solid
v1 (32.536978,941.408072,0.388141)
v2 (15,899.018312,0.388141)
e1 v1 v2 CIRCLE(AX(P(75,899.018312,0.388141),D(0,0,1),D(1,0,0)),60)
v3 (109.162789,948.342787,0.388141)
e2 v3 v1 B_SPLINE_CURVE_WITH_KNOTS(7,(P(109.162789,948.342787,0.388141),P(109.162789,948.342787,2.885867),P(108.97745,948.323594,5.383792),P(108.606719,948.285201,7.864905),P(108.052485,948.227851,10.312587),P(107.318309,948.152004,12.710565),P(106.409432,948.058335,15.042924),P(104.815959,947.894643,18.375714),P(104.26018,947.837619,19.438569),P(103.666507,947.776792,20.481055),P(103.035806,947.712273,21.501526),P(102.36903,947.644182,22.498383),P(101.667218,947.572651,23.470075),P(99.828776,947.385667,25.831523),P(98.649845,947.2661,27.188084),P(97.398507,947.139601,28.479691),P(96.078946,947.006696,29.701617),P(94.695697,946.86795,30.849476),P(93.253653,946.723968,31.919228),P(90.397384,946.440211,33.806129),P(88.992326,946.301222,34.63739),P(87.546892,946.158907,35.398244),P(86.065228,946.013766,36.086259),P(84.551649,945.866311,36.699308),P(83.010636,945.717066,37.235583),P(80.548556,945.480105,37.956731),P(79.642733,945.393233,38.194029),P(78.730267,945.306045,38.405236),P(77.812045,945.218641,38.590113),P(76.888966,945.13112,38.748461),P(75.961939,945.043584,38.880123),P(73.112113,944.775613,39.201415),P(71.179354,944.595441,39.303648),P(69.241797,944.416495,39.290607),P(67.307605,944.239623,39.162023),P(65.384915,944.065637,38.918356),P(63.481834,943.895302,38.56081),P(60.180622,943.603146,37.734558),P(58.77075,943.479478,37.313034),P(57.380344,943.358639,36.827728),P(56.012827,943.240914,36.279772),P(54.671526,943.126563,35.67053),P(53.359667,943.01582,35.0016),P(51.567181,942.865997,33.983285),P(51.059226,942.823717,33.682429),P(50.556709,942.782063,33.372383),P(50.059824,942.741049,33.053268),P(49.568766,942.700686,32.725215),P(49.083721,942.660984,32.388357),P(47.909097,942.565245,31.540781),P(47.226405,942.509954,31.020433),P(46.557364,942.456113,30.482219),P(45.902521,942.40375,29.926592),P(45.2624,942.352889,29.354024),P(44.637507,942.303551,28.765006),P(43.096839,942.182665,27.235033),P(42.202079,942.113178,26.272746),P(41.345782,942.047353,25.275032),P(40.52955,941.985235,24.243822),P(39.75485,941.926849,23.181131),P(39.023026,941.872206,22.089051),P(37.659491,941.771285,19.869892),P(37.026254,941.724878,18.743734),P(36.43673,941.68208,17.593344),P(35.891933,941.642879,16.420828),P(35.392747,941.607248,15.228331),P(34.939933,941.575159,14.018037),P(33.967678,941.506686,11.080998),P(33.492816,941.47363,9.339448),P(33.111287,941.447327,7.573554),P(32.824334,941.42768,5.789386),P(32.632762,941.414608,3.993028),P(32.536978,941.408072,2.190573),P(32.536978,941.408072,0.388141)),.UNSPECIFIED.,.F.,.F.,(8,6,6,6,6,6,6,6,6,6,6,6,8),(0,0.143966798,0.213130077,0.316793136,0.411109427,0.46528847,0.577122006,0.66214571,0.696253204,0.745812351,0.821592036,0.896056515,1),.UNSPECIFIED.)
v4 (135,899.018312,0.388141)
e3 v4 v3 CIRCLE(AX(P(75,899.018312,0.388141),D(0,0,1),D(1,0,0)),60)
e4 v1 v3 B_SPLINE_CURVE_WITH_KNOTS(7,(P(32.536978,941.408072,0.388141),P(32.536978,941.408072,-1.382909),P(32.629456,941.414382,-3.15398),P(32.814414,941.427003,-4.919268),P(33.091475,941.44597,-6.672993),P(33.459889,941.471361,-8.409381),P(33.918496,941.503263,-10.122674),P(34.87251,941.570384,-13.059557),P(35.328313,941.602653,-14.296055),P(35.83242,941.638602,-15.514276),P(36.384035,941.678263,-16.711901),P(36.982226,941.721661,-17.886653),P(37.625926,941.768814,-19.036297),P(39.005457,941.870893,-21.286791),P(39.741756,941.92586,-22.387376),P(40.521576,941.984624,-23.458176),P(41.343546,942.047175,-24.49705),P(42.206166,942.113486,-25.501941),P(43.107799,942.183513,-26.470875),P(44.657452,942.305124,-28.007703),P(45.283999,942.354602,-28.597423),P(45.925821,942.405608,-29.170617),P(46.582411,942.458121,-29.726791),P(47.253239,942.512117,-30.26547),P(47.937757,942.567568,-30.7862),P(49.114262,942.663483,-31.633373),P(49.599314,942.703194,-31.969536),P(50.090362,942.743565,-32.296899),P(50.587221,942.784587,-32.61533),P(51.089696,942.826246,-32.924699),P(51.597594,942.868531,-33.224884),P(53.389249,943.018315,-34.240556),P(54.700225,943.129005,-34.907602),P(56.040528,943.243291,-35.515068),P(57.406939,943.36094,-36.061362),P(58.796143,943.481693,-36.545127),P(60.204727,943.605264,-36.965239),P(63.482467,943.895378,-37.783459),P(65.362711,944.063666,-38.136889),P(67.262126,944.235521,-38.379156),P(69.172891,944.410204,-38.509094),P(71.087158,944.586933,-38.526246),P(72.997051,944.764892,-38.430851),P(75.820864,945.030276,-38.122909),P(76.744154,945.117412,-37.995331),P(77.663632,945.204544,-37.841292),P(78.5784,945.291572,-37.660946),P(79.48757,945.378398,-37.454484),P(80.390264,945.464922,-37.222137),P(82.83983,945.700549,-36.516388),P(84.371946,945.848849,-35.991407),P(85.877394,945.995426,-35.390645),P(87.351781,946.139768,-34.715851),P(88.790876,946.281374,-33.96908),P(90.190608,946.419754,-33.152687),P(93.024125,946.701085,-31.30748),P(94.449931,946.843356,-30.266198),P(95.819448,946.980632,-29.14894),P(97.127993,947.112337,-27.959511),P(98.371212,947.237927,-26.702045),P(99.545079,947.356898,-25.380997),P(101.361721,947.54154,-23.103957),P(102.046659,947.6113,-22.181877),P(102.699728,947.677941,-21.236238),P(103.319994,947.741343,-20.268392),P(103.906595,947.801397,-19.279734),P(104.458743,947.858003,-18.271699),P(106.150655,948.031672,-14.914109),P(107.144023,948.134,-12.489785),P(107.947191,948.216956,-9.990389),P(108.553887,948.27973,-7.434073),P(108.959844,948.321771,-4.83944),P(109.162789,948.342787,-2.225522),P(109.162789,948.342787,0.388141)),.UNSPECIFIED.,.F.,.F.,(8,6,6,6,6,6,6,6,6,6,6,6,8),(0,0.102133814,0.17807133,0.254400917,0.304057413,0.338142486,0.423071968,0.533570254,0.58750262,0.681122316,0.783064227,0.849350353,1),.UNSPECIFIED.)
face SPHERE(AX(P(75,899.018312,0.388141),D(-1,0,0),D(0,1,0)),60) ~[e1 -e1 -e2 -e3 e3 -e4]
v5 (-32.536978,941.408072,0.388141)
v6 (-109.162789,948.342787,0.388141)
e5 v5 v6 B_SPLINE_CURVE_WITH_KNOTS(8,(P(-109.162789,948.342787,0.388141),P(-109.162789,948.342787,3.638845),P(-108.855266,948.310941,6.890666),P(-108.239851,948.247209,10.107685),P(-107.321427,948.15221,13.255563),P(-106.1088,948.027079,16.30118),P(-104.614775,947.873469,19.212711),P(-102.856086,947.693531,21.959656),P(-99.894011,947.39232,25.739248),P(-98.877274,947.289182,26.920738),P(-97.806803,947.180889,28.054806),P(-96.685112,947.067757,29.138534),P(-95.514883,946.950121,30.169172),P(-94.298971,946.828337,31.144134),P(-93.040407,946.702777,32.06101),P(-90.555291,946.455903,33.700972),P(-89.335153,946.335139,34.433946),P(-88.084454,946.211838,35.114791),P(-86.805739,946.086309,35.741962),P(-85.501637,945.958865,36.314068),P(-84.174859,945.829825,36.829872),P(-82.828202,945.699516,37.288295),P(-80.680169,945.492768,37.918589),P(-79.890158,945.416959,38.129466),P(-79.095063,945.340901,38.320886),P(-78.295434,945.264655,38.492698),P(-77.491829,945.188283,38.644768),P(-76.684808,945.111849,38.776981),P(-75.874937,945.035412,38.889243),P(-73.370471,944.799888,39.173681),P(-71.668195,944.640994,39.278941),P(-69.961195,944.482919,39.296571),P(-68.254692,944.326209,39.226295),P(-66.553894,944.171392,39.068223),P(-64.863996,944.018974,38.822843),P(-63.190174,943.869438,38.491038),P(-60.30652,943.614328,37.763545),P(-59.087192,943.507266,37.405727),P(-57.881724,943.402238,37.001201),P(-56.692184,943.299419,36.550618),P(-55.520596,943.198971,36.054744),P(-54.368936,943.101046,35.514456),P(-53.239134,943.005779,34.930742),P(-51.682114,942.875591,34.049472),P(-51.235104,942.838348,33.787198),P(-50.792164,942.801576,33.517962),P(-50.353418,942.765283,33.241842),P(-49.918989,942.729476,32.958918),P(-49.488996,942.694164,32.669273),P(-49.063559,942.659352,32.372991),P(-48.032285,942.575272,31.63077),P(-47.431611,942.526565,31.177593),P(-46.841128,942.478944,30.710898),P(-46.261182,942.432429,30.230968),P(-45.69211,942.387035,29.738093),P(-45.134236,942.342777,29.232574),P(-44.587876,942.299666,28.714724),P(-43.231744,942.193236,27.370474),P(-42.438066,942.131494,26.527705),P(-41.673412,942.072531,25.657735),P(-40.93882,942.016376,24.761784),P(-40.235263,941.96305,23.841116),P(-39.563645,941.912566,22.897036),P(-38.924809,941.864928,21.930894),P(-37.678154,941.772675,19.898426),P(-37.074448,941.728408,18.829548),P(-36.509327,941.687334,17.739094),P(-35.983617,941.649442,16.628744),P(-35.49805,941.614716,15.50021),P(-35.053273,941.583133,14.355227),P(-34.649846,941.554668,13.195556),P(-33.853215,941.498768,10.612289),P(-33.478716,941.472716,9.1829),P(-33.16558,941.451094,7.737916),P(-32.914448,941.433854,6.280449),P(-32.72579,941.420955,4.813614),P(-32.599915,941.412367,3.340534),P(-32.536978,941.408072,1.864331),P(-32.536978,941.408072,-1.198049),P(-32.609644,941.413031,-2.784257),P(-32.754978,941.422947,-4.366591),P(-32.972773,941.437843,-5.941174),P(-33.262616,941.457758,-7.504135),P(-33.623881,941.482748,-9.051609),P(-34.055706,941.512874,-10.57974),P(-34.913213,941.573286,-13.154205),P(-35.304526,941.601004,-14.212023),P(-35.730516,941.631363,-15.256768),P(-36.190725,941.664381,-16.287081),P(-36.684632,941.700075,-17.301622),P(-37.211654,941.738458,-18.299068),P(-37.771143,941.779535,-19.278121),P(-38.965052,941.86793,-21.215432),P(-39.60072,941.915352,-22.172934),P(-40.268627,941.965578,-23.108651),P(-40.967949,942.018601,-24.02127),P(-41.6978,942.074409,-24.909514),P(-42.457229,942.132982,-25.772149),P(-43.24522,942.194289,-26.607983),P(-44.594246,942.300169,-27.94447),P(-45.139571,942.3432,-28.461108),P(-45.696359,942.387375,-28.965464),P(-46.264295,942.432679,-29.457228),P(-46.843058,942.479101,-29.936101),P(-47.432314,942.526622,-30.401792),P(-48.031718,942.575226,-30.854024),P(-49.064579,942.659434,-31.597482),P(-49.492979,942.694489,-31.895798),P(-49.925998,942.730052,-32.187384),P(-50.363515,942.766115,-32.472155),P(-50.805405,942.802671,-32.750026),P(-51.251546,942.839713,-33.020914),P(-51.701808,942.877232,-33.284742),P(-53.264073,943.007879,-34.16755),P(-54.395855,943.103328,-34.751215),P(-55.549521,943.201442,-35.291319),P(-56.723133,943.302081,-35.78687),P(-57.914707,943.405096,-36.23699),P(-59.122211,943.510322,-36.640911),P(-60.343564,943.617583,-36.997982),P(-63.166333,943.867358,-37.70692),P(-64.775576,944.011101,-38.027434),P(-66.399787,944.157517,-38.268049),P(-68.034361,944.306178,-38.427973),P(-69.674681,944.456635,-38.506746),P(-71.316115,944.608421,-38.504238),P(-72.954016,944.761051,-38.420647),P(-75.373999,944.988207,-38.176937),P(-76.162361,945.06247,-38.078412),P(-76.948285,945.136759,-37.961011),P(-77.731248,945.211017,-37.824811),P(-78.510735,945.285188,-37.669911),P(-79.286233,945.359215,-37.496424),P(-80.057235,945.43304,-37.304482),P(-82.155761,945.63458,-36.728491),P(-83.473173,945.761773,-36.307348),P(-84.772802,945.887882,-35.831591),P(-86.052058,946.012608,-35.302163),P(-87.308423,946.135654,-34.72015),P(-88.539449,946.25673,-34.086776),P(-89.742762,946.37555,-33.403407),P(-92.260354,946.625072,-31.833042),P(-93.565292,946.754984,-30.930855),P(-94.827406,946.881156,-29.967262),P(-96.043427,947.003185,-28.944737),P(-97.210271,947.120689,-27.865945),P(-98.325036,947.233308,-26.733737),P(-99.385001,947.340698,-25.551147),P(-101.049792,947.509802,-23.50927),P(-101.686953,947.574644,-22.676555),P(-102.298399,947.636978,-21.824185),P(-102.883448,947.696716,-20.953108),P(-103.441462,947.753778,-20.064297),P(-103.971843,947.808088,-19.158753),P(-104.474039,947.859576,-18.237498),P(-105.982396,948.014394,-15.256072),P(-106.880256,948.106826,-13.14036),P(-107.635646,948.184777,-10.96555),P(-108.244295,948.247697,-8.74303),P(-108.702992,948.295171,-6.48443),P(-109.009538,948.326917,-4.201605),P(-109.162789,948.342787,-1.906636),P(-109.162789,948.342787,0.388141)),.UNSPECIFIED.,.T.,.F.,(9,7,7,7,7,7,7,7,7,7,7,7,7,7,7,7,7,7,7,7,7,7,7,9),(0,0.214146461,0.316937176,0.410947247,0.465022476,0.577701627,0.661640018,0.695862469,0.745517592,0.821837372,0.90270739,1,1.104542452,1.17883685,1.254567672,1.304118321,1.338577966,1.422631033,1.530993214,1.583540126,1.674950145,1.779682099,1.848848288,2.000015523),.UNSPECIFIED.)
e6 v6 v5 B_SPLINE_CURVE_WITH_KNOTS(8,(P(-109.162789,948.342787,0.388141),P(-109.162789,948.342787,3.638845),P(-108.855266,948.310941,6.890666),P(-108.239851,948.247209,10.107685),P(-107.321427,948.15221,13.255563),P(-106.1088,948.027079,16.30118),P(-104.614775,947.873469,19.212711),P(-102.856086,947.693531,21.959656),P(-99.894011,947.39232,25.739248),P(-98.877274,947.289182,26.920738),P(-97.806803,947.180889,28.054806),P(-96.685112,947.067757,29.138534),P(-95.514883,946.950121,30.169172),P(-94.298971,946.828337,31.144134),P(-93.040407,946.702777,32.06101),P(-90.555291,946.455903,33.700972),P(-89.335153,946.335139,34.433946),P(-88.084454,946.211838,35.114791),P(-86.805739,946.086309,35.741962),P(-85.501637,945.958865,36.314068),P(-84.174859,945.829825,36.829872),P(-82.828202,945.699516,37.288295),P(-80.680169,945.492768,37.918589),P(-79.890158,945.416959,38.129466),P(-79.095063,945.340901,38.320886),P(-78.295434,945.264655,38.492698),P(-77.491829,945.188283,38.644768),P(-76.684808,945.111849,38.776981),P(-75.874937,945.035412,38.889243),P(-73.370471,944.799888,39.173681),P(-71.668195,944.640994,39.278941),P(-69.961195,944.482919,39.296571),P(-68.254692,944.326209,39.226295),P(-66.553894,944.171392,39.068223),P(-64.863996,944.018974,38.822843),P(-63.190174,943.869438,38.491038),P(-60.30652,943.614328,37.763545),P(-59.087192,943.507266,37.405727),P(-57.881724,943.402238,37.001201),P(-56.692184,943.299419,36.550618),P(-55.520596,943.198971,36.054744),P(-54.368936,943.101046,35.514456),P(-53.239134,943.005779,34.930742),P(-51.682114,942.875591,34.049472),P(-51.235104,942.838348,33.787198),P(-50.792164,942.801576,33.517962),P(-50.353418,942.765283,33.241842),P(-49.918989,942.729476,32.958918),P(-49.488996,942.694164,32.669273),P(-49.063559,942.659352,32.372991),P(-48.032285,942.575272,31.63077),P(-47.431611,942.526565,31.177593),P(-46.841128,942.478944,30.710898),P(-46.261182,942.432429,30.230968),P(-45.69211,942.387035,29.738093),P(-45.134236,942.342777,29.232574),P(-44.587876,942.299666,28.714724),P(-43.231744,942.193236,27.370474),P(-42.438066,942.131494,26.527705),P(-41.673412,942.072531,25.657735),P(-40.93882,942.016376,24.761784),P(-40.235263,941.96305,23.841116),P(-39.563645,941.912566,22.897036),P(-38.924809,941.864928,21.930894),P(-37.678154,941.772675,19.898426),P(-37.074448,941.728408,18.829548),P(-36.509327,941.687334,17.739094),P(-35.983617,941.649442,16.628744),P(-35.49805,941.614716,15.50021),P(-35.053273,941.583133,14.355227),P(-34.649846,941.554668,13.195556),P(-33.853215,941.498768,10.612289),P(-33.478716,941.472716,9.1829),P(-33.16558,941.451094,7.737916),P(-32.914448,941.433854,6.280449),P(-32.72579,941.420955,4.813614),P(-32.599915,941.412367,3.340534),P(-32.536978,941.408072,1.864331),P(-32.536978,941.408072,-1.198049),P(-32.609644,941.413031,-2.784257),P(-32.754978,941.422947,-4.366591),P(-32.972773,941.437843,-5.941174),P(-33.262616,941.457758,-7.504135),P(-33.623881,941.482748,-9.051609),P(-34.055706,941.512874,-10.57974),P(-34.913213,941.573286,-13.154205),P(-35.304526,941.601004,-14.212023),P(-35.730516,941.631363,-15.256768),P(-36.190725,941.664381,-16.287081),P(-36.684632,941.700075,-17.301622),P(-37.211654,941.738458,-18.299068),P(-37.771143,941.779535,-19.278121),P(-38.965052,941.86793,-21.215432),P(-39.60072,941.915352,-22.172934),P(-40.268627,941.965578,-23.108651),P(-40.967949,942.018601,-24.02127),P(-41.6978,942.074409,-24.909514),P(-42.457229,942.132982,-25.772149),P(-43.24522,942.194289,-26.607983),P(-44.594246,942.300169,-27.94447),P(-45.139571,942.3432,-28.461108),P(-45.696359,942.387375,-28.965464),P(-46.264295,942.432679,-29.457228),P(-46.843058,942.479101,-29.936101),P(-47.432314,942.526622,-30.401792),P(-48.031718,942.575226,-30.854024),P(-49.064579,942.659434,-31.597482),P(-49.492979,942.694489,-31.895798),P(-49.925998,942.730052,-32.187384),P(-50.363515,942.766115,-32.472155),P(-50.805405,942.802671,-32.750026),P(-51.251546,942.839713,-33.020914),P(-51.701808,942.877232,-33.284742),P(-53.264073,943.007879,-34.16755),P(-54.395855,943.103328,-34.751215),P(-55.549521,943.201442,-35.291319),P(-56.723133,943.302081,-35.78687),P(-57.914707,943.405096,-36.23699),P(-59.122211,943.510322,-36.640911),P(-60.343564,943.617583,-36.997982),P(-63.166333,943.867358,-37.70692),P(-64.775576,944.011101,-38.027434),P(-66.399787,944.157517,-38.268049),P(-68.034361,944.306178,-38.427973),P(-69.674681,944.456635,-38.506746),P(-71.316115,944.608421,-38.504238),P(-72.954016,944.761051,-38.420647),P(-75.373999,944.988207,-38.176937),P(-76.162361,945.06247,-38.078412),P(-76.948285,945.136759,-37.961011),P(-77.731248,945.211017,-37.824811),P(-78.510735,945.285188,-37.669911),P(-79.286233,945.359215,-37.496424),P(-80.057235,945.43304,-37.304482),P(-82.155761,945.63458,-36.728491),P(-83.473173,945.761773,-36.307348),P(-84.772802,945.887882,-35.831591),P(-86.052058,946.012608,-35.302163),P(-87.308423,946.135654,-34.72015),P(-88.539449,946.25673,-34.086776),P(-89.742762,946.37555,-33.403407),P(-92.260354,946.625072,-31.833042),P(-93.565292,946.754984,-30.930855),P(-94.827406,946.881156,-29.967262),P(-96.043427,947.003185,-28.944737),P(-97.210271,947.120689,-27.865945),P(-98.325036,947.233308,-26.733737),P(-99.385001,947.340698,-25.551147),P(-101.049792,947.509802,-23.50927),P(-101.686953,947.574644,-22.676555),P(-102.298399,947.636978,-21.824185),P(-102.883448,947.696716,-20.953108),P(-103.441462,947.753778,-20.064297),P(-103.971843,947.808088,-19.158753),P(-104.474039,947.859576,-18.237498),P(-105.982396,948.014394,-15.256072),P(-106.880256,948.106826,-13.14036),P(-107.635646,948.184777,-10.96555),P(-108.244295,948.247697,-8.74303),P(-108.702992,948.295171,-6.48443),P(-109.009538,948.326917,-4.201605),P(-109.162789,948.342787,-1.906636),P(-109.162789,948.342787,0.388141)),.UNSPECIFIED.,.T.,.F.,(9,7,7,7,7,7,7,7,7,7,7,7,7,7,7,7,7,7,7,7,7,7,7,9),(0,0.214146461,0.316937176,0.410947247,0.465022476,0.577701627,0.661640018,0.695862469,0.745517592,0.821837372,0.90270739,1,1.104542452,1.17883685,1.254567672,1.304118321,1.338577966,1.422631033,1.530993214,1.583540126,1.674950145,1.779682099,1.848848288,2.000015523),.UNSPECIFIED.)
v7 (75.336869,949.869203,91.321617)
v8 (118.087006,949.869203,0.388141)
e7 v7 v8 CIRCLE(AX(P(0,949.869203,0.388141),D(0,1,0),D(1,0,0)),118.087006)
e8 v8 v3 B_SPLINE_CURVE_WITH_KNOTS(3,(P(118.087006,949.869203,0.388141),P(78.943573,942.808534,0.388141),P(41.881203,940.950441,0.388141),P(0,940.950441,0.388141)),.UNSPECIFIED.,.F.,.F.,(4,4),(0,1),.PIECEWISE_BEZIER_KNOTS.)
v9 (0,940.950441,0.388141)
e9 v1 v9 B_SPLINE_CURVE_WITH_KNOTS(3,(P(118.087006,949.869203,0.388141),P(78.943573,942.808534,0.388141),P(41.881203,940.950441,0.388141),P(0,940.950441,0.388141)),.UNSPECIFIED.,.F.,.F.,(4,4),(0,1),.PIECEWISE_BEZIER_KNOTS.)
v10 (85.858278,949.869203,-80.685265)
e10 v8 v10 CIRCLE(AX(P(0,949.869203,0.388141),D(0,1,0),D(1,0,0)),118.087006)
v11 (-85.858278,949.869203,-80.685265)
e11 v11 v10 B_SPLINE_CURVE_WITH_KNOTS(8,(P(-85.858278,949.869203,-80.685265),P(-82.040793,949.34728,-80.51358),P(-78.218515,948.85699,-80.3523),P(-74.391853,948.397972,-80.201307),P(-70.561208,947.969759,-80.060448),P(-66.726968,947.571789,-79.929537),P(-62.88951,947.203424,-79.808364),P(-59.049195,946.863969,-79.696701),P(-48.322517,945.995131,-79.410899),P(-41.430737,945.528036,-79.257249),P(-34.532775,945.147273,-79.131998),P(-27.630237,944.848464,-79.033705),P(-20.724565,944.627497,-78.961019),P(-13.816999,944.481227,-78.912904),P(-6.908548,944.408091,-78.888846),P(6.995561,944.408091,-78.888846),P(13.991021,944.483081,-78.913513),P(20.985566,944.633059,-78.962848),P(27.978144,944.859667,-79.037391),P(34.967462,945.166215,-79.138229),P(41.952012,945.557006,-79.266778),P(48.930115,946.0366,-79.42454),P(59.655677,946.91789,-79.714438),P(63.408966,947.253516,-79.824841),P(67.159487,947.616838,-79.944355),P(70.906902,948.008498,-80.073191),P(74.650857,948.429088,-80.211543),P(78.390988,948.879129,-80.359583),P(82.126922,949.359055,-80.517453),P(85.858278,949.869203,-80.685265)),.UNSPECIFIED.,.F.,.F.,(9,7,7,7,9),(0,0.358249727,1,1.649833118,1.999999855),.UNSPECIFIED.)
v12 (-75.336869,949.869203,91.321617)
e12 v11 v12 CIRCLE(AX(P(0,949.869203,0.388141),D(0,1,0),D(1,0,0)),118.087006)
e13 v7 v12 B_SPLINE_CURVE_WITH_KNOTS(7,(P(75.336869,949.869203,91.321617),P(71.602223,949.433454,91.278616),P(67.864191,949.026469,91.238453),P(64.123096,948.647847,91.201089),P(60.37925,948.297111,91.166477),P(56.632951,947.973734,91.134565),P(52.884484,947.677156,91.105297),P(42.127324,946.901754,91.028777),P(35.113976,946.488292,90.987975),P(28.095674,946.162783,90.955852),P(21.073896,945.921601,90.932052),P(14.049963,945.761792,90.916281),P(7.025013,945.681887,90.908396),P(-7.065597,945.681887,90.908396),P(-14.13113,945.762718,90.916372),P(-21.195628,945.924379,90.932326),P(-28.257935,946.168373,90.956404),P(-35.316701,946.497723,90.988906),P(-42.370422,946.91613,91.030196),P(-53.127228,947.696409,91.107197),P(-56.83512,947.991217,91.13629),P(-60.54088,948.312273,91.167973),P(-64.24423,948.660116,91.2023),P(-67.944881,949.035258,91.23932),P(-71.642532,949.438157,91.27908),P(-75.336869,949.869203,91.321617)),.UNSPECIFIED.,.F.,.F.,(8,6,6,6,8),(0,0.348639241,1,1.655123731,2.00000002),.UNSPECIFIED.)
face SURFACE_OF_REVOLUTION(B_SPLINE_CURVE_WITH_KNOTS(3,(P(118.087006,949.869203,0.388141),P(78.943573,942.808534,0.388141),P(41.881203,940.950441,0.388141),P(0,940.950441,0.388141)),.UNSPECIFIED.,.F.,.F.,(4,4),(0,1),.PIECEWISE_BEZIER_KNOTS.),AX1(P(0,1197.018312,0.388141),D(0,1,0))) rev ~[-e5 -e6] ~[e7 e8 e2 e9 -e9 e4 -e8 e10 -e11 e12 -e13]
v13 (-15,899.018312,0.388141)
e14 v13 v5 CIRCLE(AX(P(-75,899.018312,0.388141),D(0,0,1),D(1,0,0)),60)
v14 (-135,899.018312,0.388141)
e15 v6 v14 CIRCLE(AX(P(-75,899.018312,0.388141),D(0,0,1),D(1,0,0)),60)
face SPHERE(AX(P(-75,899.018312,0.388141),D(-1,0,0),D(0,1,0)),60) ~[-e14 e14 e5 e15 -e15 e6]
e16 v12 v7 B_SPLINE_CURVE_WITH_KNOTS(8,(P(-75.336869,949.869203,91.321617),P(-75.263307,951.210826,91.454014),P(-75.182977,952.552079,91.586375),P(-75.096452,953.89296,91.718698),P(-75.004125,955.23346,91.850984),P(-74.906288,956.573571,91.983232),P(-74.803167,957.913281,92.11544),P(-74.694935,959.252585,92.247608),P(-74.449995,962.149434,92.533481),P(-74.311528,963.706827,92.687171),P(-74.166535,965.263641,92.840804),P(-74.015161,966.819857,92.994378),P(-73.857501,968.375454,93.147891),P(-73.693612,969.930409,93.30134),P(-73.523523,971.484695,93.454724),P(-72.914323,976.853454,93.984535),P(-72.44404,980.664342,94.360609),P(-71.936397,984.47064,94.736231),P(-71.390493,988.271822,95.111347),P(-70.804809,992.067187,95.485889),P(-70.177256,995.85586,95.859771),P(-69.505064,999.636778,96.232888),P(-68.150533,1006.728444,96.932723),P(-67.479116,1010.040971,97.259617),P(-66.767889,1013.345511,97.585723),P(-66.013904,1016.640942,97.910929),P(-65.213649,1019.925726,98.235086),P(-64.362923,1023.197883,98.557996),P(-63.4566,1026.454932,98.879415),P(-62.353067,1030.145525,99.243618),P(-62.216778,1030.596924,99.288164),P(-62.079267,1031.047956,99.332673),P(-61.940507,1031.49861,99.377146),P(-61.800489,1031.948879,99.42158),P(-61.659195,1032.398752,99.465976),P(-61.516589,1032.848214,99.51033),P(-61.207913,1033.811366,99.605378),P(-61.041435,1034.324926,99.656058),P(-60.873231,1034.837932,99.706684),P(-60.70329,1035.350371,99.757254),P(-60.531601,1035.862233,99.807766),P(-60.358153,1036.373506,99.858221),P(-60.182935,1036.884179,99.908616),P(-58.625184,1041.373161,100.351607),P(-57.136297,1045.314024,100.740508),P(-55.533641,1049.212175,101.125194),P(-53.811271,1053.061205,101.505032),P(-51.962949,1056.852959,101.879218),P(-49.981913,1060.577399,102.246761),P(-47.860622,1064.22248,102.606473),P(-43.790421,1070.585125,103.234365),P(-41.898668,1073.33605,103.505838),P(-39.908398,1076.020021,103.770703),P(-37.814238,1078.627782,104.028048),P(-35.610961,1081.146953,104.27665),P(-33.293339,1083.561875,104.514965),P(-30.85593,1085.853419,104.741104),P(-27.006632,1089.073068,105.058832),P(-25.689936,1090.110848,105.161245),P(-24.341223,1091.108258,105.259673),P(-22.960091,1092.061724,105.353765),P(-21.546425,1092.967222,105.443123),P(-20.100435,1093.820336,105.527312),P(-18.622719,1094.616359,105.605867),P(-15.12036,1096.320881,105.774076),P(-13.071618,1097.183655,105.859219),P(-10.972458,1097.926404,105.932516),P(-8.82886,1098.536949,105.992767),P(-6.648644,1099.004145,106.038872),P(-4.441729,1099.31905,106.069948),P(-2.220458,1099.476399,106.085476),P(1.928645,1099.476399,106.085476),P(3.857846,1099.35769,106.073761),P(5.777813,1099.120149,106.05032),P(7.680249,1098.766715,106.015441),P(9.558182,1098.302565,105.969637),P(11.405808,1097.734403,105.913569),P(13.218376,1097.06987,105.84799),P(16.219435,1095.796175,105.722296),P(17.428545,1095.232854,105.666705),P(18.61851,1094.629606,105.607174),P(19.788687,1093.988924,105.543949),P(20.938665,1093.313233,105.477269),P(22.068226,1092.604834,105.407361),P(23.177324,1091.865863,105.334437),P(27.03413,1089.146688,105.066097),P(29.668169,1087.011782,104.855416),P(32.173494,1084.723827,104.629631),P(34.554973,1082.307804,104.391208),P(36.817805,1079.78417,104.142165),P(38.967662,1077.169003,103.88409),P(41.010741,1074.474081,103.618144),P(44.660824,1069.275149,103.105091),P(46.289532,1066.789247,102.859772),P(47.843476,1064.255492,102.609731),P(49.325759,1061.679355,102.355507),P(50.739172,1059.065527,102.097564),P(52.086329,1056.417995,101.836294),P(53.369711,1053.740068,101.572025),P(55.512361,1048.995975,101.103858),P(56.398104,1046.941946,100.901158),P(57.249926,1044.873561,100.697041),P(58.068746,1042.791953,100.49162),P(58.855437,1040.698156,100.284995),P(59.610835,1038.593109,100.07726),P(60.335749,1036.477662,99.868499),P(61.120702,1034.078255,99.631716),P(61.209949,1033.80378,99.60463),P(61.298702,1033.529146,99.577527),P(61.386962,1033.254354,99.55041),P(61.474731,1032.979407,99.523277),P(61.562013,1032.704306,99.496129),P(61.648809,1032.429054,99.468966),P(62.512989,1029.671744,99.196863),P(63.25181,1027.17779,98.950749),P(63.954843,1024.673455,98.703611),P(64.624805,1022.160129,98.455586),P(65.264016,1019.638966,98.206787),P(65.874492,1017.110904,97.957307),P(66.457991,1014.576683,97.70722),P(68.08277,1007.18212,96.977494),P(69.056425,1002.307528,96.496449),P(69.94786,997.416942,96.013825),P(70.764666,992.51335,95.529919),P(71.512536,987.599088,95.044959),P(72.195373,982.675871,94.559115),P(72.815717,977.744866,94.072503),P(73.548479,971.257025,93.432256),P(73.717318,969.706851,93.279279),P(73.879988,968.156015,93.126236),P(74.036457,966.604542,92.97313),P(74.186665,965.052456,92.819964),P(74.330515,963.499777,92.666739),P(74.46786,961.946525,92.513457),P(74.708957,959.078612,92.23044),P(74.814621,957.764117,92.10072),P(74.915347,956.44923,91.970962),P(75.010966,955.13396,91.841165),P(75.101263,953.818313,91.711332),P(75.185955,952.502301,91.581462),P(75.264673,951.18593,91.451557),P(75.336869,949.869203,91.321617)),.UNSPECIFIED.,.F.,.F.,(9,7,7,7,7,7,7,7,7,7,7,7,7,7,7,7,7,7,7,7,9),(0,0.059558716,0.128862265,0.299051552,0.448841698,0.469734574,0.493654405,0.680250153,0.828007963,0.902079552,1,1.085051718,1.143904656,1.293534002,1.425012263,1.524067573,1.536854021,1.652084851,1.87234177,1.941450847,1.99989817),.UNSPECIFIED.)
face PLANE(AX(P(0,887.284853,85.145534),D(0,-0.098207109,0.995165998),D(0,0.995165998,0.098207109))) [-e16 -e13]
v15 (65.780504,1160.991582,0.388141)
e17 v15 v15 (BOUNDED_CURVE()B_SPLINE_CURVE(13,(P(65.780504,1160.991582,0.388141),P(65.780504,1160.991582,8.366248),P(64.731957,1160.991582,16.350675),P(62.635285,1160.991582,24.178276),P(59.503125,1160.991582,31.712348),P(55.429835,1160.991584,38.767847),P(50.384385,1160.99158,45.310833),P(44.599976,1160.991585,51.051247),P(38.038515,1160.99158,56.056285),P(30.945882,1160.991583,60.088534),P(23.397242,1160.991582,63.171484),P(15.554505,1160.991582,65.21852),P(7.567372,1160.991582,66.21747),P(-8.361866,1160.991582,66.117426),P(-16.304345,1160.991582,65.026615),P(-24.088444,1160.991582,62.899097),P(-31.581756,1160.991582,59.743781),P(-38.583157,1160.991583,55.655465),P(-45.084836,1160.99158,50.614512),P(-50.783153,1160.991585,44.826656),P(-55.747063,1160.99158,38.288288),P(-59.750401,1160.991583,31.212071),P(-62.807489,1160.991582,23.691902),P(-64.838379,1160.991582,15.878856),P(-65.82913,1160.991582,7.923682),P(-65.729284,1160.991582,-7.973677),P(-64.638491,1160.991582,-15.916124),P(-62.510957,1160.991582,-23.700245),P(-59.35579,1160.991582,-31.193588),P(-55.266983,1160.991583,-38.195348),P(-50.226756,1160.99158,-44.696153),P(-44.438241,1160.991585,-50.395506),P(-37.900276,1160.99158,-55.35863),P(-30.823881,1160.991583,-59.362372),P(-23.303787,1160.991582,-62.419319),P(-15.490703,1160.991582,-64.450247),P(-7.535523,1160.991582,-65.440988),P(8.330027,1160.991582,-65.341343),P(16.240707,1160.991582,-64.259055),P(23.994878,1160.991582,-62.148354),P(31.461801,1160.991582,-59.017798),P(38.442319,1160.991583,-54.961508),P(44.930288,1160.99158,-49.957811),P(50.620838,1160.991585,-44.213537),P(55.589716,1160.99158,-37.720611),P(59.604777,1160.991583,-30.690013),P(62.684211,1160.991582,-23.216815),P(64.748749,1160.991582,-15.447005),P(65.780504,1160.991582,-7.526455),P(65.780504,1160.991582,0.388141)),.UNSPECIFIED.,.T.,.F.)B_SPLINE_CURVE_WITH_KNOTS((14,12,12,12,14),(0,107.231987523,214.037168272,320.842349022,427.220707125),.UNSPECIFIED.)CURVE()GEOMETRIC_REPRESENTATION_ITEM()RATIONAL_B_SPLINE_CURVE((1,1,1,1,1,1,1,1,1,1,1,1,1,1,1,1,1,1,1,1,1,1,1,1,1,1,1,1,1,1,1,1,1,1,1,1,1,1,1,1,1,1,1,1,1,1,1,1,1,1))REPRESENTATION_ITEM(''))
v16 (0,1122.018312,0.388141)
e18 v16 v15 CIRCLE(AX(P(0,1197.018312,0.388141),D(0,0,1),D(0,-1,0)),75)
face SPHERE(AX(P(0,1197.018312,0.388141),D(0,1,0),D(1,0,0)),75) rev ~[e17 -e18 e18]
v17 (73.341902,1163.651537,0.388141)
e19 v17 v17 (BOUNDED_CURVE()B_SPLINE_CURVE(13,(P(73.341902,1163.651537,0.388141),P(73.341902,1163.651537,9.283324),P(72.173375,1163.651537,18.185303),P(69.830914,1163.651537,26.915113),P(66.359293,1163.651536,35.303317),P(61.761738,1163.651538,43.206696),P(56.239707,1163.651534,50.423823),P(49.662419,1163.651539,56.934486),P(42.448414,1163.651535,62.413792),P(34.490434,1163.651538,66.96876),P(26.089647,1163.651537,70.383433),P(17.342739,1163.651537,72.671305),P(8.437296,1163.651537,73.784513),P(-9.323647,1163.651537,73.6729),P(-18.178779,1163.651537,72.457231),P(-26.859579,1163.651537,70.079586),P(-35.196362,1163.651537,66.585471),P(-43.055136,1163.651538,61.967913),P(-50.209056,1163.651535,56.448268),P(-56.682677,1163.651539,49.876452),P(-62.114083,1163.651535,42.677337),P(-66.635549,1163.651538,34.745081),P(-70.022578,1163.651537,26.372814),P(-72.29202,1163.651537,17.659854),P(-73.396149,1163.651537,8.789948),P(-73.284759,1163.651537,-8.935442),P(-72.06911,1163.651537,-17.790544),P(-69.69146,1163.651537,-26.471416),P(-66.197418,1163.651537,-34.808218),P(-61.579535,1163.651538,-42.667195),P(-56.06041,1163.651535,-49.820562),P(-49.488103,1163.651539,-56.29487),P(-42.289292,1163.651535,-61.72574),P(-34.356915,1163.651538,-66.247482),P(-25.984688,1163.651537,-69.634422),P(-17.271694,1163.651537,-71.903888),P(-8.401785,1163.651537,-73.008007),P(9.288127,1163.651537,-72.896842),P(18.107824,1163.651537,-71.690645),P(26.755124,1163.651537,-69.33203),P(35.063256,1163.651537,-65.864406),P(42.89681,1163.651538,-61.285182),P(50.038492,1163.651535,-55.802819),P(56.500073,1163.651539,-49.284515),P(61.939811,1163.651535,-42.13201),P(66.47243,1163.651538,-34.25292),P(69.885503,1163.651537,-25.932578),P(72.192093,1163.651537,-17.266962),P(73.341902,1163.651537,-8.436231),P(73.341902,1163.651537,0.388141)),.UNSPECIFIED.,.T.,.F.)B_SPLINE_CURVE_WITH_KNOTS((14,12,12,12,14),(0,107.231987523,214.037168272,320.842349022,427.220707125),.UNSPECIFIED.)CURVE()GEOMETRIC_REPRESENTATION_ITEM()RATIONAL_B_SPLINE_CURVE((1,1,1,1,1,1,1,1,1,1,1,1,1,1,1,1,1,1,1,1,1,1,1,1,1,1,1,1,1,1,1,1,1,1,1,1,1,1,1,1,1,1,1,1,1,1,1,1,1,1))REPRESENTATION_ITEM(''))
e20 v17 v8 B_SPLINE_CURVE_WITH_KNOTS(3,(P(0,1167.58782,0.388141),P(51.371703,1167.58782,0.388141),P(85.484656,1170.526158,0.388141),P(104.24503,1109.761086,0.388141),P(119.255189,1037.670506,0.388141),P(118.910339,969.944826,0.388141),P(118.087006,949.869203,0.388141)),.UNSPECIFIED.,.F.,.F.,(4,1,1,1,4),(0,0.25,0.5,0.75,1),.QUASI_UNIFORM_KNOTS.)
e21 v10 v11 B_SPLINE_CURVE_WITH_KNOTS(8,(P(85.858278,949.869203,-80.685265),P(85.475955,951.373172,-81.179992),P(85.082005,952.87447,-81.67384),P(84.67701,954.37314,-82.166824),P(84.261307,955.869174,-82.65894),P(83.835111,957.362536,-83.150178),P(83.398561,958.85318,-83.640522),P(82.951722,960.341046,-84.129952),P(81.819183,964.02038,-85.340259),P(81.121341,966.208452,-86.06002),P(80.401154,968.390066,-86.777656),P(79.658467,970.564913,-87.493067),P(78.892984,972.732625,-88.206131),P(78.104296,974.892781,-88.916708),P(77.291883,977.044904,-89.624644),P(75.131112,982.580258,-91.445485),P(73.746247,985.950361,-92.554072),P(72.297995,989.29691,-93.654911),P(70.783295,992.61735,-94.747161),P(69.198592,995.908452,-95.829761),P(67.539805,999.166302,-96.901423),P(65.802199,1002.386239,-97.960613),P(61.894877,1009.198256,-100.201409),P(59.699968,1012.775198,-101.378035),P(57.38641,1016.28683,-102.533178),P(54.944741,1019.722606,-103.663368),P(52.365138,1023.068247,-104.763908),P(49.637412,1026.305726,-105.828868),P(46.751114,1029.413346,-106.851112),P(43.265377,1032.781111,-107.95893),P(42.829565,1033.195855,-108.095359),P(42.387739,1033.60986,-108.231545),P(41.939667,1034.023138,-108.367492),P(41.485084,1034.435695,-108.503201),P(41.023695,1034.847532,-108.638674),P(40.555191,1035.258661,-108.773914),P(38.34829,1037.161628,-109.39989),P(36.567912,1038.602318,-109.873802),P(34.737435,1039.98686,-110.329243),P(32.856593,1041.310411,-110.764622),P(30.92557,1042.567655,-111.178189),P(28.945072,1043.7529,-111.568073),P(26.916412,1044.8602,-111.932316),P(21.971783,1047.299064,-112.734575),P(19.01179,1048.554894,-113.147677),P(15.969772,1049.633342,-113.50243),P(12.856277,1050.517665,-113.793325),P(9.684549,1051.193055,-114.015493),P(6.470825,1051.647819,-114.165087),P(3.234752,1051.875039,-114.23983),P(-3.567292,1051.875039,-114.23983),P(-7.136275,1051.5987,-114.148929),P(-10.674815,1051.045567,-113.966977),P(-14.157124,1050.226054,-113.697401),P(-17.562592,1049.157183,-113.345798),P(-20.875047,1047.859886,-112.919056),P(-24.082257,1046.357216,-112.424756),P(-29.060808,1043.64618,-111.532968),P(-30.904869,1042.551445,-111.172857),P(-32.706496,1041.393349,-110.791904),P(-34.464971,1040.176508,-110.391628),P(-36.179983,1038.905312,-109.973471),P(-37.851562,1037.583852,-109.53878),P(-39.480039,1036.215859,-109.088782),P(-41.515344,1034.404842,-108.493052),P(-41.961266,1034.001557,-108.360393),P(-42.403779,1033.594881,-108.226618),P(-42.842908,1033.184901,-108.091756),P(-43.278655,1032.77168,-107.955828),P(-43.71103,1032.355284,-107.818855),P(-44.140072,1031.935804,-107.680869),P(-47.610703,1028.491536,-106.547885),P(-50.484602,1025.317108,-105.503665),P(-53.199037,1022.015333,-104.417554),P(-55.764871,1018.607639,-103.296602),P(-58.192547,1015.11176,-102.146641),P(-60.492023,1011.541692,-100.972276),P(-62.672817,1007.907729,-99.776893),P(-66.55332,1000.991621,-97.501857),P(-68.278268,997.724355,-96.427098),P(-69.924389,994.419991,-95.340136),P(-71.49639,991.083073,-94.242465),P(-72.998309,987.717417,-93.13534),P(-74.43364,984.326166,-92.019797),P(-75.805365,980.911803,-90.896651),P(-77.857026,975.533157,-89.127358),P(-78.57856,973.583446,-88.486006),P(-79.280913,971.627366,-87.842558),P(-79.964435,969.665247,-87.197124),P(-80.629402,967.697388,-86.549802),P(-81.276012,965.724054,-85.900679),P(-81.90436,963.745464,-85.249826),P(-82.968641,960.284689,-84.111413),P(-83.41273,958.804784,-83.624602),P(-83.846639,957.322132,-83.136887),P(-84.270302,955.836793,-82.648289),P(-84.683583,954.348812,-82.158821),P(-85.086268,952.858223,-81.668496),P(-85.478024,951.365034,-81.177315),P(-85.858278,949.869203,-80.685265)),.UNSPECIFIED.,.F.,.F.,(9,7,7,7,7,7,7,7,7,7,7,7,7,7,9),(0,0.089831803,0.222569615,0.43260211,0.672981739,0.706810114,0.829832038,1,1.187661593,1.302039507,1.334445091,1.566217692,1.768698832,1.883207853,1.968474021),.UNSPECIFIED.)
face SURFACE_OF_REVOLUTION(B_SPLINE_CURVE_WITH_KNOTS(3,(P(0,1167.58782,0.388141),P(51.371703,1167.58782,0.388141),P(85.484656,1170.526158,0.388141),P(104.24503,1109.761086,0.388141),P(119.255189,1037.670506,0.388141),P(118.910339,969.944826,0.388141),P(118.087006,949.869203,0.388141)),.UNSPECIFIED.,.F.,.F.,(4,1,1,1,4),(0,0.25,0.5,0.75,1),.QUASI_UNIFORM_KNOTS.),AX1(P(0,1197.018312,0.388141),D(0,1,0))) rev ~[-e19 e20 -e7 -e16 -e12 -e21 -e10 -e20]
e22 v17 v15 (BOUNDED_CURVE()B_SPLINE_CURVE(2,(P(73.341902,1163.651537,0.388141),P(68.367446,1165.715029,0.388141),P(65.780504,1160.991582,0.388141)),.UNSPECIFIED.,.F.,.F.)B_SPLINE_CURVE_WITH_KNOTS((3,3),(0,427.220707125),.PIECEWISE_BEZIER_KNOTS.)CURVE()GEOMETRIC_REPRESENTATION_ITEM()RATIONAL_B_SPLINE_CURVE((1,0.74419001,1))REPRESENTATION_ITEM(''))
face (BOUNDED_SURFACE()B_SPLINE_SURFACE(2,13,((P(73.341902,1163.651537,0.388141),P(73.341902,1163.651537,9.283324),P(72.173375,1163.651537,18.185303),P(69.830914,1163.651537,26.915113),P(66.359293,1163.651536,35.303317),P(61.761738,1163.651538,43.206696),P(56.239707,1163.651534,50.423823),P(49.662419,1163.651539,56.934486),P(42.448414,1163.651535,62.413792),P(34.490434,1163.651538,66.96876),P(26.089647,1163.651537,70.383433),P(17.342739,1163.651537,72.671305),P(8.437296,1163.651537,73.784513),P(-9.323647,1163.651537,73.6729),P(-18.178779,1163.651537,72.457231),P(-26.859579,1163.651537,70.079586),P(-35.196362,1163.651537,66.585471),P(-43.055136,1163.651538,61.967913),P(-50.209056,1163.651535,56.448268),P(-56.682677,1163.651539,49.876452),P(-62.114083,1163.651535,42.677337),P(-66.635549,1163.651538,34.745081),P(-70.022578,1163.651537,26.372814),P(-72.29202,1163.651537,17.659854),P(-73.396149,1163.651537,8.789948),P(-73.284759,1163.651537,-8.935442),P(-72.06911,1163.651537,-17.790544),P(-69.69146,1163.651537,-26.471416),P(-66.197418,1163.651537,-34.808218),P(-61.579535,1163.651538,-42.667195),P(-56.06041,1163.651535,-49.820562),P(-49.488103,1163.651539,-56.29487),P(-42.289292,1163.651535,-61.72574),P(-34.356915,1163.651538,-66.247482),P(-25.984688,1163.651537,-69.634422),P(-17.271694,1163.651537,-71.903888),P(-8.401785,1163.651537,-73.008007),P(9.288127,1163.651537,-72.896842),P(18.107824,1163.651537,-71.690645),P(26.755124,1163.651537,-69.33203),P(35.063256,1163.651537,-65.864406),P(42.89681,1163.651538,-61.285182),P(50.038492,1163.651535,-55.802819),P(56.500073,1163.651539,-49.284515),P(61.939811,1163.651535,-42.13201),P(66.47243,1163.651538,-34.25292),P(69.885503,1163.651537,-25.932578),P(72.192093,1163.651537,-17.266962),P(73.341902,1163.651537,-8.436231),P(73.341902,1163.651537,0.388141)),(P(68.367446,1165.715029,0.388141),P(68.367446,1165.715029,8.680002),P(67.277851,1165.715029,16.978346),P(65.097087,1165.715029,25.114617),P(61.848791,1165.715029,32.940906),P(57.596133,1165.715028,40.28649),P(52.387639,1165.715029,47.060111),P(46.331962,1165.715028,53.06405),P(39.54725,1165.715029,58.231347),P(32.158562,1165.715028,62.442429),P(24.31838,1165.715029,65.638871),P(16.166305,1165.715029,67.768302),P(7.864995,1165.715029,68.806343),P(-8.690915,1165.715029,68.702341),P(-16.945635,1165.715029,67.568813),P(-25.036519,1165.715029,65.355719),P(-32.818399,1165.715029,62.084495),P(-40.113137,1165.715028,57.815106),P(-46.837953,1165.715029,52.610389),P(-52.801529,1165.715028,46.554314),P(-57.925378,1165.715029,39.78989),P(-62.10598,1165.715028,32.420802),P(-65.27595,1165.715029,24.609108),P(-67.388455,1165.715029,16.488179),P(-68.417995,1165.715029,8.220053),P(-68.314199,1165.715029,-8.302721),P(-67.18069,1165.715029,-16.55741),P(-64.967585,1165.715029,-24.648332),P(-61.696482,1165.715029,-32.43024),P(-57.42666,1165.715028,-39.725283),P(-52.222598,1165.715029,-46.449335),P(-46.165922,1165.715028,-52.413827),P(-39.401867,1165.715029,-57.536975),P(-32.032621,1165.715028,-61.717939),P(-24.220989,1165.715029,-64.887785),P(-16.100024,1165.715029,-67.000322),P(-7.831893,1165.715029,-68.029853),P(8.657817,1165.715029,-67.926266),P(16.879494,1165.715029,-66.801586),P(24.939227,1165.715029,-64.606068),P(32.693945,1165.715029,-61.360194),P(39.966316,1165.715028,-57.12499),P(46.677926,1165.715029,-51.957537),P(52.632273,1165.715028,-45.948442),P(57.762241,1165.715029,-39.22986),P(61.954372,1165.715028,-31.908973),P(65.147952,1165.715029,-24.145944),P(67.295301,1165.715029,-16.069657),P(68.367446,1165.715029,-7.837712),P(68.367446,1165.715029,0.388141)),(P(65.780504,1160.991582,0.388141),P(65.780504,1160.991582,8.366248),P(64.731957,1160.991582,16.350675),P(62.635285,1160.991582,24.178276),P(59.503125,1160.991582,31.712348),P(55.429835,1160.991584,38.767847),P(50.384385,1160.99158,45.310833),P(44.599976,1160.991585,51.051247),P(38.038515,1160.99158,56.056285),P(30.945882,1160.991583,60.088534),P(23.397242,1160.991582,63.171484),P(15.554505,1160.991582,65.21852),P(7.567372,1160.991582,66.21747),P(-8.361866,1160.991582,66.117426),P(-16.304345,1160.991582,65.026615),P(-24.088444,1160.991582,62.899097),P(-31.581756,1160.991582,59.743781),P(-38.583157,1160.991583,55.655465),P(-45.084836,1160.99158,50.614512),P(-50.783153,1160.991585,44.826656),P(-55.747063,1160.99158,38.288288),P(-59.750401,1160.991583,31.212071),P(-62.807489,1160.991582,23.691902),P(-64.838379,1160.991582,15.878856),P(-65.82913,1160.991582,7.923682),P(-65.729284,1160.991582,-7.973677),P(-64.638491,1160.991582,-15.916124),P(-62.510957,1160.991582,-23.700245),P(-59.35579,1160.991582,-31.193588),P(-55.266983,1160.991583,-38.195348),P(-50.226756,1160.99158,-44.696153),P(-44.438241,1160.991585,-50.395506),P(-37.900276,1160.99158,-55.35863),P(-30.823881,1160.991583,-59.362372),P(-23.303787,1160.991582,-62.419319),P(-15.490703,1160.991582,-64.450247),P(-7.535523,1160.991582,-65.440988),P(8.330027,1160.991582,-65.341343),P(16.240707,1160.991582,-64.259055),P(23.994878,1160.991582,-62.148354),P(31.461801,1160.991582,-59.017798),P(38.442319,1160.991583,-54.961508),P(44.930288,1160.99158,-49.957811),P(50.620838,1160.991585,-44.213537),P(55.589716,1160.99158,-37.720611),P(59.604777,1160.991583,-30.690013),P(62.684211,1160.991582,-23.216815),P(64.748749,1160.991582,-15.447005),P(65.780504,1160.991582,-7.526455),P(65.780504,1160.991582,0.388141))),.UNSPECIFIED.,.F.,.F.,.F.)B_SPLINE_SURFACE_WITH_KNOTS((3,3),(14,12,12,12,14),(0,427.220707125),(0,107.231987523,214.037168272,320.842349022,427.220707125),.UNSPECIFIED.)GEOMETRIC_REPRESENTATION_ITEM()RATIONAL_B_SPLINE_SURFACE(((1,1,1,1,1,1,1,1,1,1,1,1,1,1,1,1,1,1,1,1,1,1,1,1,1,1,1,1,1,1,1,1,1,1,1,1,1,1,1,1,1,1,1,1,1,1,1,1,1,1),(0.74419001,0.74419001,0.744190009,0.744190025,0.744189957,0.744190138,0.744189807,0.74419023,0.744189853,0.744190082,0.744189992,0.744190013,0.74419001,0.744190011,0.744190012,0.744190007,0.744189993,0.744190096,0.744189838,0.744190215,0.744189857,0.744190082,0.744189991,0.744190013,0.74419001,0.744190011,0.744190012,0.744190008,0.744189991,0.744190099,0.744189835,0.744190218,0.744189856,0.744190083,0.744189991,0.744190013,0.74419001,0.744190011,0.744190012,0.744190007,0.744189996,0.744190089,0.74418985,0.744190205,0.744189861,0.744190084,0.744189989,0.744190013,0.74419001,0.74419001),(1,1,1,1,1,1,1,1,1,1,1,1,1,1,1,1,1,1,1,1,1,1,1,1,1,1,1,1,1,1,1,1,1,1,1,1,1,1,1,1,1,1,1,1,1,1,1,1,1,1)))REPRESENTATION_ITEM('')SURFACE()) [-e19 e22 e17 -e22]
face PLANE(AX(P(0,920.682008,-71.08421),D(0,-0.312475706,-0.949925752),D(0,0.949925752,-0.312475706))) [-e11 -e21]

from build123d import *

# Parameters (mm, degrees)
FILLET085_R          = 6
POCKET030_DEPTH      = 135.001
POCKET030_DEPTH_BACK = 135.001
POCKET031_DEPTH      = 135.001
POCKET031_DEPTH_BACK = 135.001


with BuildPart() as part:
    # Sketch170 → Revolution088 (revolve)
    with BuildSketch(Plane.XY):
        with BuildLine():
            Line((0, -29.430492), (0, -256.067871))
            add(Edge.make_bspline(
                [(118.087006, -247.149109), (78.943573, -254.209778), (41.881203, -256.067871), (0, -256.067871)],
                knots=[0, 0, 0, 0, 1, 1, 1, 1], degree=3))
            add(Edge.make_bspline(
                [(0, -29.430492), (51.371703, -29.430492), (85.484656, -26.492154), (104.24503, -87.257226), (119.255189, -159.347806), (118.910339, -227.073486), (118.087006, -247.149109)],
                knots=[0, 0, 0, 0, 0.25, 0.5, 0.75, 1, 1, 1, 1], degree=3))
        make_face()
    revolve(axis=Axis((0, 0, 0), (0, 1, 0)))

    # Sketch171 → Groove082 (revolve, cut)
    with BuildSketch(Plane.XY):
        with BuildLine():
            Line((0, 75), (0, -75))
            ThreePointArc((0, -75), (75, 0), (0, 75))
        make_face()
    revolve(axis=Axis((0, 0, 0), (0, 1, 0)), mode=Mode.SUBTRACT)

    # Fillet085
    fillet085_edges = [part.edges().sort_by_distance(p)[0] for p in [
        (-67.994287, -31.650859, 0),
    ]]
    fillet(fillet085_edges, radius=FILLET085_R)

    # Sketch172 → Groove083 (revolve, cut)
    with BuildSketch(Plane.XY):
        with BuildLine():
            Line((15, -298), (135, -298))
            ThreePointArc((135, -298), (75, -238), (15, -298))
        make_face()
        with BuildLine():
            Line((-135, -298), (-15, -298))
            ThreePointArc((-15, -298), (-75, -238), (-135, -298))
        make_face()
    revolve(axis=Axis((15, -298, 0), (1, 0, 0)), mode=Mode.SUBTRACT)

    # Sketch172 → Revolution089 (revolve)
    with BuildSketch(Plane.XY):
        with BuildLine():
            Line((15, -298), (135, -298))
            ThreePointArc((135, -298), (75, -238), (15, -298))
        make_face()
        with BuildLine():
            Line((-135, -298), (-15, -298))
            ThreePointArc((-15, -298), (-75, -238), (-135, -298))
        make_face()
    revolve(axis=Axis((15, -298, 0), (1, 0, 0)))

    # Sketch173 → Pocket030 (cut, two sides)
    with BuildSketch(Plane.YZ) as pocket030_sk:
        Polygon((-309.733459, 84.757393), (-36.255981, 111.745285), (-36.255981, 192.709015), (-309.733459, 192.709015), align=None)
    extrude(amount=-POCKET030_DEPTH, mode=Mode.SUBTRACT)
    extrude(pocket030_sk.sketch, amount=POCKET030_DEPTH_BACK, mode=Mode.SUBTRACT)

    # Sketch174 → Pocket031 (cut, two sides)
    with BuildSketch(Plane.YZ) as pocket031_sk:
        Polygon((-276.336304, -71.472351), (-109.323242, -126.410881), (-109.323242, -220.905121), (-276.336304, -220.905121), align=None)
    extrude(amount=-POCKET031_DEPTH, mode=Mode.SUBTRACT)
    extrude(pocket031_sk.sketch, amount=POCKET031_DEPTH_BACK, mode=Mode.SUBTRACT)


with BuildPart() as part_1:
    # Body051 placement: moved
    add(part.part.moved(Location((0, 1197.018312, 0.388141))))


solid = part_1.part
